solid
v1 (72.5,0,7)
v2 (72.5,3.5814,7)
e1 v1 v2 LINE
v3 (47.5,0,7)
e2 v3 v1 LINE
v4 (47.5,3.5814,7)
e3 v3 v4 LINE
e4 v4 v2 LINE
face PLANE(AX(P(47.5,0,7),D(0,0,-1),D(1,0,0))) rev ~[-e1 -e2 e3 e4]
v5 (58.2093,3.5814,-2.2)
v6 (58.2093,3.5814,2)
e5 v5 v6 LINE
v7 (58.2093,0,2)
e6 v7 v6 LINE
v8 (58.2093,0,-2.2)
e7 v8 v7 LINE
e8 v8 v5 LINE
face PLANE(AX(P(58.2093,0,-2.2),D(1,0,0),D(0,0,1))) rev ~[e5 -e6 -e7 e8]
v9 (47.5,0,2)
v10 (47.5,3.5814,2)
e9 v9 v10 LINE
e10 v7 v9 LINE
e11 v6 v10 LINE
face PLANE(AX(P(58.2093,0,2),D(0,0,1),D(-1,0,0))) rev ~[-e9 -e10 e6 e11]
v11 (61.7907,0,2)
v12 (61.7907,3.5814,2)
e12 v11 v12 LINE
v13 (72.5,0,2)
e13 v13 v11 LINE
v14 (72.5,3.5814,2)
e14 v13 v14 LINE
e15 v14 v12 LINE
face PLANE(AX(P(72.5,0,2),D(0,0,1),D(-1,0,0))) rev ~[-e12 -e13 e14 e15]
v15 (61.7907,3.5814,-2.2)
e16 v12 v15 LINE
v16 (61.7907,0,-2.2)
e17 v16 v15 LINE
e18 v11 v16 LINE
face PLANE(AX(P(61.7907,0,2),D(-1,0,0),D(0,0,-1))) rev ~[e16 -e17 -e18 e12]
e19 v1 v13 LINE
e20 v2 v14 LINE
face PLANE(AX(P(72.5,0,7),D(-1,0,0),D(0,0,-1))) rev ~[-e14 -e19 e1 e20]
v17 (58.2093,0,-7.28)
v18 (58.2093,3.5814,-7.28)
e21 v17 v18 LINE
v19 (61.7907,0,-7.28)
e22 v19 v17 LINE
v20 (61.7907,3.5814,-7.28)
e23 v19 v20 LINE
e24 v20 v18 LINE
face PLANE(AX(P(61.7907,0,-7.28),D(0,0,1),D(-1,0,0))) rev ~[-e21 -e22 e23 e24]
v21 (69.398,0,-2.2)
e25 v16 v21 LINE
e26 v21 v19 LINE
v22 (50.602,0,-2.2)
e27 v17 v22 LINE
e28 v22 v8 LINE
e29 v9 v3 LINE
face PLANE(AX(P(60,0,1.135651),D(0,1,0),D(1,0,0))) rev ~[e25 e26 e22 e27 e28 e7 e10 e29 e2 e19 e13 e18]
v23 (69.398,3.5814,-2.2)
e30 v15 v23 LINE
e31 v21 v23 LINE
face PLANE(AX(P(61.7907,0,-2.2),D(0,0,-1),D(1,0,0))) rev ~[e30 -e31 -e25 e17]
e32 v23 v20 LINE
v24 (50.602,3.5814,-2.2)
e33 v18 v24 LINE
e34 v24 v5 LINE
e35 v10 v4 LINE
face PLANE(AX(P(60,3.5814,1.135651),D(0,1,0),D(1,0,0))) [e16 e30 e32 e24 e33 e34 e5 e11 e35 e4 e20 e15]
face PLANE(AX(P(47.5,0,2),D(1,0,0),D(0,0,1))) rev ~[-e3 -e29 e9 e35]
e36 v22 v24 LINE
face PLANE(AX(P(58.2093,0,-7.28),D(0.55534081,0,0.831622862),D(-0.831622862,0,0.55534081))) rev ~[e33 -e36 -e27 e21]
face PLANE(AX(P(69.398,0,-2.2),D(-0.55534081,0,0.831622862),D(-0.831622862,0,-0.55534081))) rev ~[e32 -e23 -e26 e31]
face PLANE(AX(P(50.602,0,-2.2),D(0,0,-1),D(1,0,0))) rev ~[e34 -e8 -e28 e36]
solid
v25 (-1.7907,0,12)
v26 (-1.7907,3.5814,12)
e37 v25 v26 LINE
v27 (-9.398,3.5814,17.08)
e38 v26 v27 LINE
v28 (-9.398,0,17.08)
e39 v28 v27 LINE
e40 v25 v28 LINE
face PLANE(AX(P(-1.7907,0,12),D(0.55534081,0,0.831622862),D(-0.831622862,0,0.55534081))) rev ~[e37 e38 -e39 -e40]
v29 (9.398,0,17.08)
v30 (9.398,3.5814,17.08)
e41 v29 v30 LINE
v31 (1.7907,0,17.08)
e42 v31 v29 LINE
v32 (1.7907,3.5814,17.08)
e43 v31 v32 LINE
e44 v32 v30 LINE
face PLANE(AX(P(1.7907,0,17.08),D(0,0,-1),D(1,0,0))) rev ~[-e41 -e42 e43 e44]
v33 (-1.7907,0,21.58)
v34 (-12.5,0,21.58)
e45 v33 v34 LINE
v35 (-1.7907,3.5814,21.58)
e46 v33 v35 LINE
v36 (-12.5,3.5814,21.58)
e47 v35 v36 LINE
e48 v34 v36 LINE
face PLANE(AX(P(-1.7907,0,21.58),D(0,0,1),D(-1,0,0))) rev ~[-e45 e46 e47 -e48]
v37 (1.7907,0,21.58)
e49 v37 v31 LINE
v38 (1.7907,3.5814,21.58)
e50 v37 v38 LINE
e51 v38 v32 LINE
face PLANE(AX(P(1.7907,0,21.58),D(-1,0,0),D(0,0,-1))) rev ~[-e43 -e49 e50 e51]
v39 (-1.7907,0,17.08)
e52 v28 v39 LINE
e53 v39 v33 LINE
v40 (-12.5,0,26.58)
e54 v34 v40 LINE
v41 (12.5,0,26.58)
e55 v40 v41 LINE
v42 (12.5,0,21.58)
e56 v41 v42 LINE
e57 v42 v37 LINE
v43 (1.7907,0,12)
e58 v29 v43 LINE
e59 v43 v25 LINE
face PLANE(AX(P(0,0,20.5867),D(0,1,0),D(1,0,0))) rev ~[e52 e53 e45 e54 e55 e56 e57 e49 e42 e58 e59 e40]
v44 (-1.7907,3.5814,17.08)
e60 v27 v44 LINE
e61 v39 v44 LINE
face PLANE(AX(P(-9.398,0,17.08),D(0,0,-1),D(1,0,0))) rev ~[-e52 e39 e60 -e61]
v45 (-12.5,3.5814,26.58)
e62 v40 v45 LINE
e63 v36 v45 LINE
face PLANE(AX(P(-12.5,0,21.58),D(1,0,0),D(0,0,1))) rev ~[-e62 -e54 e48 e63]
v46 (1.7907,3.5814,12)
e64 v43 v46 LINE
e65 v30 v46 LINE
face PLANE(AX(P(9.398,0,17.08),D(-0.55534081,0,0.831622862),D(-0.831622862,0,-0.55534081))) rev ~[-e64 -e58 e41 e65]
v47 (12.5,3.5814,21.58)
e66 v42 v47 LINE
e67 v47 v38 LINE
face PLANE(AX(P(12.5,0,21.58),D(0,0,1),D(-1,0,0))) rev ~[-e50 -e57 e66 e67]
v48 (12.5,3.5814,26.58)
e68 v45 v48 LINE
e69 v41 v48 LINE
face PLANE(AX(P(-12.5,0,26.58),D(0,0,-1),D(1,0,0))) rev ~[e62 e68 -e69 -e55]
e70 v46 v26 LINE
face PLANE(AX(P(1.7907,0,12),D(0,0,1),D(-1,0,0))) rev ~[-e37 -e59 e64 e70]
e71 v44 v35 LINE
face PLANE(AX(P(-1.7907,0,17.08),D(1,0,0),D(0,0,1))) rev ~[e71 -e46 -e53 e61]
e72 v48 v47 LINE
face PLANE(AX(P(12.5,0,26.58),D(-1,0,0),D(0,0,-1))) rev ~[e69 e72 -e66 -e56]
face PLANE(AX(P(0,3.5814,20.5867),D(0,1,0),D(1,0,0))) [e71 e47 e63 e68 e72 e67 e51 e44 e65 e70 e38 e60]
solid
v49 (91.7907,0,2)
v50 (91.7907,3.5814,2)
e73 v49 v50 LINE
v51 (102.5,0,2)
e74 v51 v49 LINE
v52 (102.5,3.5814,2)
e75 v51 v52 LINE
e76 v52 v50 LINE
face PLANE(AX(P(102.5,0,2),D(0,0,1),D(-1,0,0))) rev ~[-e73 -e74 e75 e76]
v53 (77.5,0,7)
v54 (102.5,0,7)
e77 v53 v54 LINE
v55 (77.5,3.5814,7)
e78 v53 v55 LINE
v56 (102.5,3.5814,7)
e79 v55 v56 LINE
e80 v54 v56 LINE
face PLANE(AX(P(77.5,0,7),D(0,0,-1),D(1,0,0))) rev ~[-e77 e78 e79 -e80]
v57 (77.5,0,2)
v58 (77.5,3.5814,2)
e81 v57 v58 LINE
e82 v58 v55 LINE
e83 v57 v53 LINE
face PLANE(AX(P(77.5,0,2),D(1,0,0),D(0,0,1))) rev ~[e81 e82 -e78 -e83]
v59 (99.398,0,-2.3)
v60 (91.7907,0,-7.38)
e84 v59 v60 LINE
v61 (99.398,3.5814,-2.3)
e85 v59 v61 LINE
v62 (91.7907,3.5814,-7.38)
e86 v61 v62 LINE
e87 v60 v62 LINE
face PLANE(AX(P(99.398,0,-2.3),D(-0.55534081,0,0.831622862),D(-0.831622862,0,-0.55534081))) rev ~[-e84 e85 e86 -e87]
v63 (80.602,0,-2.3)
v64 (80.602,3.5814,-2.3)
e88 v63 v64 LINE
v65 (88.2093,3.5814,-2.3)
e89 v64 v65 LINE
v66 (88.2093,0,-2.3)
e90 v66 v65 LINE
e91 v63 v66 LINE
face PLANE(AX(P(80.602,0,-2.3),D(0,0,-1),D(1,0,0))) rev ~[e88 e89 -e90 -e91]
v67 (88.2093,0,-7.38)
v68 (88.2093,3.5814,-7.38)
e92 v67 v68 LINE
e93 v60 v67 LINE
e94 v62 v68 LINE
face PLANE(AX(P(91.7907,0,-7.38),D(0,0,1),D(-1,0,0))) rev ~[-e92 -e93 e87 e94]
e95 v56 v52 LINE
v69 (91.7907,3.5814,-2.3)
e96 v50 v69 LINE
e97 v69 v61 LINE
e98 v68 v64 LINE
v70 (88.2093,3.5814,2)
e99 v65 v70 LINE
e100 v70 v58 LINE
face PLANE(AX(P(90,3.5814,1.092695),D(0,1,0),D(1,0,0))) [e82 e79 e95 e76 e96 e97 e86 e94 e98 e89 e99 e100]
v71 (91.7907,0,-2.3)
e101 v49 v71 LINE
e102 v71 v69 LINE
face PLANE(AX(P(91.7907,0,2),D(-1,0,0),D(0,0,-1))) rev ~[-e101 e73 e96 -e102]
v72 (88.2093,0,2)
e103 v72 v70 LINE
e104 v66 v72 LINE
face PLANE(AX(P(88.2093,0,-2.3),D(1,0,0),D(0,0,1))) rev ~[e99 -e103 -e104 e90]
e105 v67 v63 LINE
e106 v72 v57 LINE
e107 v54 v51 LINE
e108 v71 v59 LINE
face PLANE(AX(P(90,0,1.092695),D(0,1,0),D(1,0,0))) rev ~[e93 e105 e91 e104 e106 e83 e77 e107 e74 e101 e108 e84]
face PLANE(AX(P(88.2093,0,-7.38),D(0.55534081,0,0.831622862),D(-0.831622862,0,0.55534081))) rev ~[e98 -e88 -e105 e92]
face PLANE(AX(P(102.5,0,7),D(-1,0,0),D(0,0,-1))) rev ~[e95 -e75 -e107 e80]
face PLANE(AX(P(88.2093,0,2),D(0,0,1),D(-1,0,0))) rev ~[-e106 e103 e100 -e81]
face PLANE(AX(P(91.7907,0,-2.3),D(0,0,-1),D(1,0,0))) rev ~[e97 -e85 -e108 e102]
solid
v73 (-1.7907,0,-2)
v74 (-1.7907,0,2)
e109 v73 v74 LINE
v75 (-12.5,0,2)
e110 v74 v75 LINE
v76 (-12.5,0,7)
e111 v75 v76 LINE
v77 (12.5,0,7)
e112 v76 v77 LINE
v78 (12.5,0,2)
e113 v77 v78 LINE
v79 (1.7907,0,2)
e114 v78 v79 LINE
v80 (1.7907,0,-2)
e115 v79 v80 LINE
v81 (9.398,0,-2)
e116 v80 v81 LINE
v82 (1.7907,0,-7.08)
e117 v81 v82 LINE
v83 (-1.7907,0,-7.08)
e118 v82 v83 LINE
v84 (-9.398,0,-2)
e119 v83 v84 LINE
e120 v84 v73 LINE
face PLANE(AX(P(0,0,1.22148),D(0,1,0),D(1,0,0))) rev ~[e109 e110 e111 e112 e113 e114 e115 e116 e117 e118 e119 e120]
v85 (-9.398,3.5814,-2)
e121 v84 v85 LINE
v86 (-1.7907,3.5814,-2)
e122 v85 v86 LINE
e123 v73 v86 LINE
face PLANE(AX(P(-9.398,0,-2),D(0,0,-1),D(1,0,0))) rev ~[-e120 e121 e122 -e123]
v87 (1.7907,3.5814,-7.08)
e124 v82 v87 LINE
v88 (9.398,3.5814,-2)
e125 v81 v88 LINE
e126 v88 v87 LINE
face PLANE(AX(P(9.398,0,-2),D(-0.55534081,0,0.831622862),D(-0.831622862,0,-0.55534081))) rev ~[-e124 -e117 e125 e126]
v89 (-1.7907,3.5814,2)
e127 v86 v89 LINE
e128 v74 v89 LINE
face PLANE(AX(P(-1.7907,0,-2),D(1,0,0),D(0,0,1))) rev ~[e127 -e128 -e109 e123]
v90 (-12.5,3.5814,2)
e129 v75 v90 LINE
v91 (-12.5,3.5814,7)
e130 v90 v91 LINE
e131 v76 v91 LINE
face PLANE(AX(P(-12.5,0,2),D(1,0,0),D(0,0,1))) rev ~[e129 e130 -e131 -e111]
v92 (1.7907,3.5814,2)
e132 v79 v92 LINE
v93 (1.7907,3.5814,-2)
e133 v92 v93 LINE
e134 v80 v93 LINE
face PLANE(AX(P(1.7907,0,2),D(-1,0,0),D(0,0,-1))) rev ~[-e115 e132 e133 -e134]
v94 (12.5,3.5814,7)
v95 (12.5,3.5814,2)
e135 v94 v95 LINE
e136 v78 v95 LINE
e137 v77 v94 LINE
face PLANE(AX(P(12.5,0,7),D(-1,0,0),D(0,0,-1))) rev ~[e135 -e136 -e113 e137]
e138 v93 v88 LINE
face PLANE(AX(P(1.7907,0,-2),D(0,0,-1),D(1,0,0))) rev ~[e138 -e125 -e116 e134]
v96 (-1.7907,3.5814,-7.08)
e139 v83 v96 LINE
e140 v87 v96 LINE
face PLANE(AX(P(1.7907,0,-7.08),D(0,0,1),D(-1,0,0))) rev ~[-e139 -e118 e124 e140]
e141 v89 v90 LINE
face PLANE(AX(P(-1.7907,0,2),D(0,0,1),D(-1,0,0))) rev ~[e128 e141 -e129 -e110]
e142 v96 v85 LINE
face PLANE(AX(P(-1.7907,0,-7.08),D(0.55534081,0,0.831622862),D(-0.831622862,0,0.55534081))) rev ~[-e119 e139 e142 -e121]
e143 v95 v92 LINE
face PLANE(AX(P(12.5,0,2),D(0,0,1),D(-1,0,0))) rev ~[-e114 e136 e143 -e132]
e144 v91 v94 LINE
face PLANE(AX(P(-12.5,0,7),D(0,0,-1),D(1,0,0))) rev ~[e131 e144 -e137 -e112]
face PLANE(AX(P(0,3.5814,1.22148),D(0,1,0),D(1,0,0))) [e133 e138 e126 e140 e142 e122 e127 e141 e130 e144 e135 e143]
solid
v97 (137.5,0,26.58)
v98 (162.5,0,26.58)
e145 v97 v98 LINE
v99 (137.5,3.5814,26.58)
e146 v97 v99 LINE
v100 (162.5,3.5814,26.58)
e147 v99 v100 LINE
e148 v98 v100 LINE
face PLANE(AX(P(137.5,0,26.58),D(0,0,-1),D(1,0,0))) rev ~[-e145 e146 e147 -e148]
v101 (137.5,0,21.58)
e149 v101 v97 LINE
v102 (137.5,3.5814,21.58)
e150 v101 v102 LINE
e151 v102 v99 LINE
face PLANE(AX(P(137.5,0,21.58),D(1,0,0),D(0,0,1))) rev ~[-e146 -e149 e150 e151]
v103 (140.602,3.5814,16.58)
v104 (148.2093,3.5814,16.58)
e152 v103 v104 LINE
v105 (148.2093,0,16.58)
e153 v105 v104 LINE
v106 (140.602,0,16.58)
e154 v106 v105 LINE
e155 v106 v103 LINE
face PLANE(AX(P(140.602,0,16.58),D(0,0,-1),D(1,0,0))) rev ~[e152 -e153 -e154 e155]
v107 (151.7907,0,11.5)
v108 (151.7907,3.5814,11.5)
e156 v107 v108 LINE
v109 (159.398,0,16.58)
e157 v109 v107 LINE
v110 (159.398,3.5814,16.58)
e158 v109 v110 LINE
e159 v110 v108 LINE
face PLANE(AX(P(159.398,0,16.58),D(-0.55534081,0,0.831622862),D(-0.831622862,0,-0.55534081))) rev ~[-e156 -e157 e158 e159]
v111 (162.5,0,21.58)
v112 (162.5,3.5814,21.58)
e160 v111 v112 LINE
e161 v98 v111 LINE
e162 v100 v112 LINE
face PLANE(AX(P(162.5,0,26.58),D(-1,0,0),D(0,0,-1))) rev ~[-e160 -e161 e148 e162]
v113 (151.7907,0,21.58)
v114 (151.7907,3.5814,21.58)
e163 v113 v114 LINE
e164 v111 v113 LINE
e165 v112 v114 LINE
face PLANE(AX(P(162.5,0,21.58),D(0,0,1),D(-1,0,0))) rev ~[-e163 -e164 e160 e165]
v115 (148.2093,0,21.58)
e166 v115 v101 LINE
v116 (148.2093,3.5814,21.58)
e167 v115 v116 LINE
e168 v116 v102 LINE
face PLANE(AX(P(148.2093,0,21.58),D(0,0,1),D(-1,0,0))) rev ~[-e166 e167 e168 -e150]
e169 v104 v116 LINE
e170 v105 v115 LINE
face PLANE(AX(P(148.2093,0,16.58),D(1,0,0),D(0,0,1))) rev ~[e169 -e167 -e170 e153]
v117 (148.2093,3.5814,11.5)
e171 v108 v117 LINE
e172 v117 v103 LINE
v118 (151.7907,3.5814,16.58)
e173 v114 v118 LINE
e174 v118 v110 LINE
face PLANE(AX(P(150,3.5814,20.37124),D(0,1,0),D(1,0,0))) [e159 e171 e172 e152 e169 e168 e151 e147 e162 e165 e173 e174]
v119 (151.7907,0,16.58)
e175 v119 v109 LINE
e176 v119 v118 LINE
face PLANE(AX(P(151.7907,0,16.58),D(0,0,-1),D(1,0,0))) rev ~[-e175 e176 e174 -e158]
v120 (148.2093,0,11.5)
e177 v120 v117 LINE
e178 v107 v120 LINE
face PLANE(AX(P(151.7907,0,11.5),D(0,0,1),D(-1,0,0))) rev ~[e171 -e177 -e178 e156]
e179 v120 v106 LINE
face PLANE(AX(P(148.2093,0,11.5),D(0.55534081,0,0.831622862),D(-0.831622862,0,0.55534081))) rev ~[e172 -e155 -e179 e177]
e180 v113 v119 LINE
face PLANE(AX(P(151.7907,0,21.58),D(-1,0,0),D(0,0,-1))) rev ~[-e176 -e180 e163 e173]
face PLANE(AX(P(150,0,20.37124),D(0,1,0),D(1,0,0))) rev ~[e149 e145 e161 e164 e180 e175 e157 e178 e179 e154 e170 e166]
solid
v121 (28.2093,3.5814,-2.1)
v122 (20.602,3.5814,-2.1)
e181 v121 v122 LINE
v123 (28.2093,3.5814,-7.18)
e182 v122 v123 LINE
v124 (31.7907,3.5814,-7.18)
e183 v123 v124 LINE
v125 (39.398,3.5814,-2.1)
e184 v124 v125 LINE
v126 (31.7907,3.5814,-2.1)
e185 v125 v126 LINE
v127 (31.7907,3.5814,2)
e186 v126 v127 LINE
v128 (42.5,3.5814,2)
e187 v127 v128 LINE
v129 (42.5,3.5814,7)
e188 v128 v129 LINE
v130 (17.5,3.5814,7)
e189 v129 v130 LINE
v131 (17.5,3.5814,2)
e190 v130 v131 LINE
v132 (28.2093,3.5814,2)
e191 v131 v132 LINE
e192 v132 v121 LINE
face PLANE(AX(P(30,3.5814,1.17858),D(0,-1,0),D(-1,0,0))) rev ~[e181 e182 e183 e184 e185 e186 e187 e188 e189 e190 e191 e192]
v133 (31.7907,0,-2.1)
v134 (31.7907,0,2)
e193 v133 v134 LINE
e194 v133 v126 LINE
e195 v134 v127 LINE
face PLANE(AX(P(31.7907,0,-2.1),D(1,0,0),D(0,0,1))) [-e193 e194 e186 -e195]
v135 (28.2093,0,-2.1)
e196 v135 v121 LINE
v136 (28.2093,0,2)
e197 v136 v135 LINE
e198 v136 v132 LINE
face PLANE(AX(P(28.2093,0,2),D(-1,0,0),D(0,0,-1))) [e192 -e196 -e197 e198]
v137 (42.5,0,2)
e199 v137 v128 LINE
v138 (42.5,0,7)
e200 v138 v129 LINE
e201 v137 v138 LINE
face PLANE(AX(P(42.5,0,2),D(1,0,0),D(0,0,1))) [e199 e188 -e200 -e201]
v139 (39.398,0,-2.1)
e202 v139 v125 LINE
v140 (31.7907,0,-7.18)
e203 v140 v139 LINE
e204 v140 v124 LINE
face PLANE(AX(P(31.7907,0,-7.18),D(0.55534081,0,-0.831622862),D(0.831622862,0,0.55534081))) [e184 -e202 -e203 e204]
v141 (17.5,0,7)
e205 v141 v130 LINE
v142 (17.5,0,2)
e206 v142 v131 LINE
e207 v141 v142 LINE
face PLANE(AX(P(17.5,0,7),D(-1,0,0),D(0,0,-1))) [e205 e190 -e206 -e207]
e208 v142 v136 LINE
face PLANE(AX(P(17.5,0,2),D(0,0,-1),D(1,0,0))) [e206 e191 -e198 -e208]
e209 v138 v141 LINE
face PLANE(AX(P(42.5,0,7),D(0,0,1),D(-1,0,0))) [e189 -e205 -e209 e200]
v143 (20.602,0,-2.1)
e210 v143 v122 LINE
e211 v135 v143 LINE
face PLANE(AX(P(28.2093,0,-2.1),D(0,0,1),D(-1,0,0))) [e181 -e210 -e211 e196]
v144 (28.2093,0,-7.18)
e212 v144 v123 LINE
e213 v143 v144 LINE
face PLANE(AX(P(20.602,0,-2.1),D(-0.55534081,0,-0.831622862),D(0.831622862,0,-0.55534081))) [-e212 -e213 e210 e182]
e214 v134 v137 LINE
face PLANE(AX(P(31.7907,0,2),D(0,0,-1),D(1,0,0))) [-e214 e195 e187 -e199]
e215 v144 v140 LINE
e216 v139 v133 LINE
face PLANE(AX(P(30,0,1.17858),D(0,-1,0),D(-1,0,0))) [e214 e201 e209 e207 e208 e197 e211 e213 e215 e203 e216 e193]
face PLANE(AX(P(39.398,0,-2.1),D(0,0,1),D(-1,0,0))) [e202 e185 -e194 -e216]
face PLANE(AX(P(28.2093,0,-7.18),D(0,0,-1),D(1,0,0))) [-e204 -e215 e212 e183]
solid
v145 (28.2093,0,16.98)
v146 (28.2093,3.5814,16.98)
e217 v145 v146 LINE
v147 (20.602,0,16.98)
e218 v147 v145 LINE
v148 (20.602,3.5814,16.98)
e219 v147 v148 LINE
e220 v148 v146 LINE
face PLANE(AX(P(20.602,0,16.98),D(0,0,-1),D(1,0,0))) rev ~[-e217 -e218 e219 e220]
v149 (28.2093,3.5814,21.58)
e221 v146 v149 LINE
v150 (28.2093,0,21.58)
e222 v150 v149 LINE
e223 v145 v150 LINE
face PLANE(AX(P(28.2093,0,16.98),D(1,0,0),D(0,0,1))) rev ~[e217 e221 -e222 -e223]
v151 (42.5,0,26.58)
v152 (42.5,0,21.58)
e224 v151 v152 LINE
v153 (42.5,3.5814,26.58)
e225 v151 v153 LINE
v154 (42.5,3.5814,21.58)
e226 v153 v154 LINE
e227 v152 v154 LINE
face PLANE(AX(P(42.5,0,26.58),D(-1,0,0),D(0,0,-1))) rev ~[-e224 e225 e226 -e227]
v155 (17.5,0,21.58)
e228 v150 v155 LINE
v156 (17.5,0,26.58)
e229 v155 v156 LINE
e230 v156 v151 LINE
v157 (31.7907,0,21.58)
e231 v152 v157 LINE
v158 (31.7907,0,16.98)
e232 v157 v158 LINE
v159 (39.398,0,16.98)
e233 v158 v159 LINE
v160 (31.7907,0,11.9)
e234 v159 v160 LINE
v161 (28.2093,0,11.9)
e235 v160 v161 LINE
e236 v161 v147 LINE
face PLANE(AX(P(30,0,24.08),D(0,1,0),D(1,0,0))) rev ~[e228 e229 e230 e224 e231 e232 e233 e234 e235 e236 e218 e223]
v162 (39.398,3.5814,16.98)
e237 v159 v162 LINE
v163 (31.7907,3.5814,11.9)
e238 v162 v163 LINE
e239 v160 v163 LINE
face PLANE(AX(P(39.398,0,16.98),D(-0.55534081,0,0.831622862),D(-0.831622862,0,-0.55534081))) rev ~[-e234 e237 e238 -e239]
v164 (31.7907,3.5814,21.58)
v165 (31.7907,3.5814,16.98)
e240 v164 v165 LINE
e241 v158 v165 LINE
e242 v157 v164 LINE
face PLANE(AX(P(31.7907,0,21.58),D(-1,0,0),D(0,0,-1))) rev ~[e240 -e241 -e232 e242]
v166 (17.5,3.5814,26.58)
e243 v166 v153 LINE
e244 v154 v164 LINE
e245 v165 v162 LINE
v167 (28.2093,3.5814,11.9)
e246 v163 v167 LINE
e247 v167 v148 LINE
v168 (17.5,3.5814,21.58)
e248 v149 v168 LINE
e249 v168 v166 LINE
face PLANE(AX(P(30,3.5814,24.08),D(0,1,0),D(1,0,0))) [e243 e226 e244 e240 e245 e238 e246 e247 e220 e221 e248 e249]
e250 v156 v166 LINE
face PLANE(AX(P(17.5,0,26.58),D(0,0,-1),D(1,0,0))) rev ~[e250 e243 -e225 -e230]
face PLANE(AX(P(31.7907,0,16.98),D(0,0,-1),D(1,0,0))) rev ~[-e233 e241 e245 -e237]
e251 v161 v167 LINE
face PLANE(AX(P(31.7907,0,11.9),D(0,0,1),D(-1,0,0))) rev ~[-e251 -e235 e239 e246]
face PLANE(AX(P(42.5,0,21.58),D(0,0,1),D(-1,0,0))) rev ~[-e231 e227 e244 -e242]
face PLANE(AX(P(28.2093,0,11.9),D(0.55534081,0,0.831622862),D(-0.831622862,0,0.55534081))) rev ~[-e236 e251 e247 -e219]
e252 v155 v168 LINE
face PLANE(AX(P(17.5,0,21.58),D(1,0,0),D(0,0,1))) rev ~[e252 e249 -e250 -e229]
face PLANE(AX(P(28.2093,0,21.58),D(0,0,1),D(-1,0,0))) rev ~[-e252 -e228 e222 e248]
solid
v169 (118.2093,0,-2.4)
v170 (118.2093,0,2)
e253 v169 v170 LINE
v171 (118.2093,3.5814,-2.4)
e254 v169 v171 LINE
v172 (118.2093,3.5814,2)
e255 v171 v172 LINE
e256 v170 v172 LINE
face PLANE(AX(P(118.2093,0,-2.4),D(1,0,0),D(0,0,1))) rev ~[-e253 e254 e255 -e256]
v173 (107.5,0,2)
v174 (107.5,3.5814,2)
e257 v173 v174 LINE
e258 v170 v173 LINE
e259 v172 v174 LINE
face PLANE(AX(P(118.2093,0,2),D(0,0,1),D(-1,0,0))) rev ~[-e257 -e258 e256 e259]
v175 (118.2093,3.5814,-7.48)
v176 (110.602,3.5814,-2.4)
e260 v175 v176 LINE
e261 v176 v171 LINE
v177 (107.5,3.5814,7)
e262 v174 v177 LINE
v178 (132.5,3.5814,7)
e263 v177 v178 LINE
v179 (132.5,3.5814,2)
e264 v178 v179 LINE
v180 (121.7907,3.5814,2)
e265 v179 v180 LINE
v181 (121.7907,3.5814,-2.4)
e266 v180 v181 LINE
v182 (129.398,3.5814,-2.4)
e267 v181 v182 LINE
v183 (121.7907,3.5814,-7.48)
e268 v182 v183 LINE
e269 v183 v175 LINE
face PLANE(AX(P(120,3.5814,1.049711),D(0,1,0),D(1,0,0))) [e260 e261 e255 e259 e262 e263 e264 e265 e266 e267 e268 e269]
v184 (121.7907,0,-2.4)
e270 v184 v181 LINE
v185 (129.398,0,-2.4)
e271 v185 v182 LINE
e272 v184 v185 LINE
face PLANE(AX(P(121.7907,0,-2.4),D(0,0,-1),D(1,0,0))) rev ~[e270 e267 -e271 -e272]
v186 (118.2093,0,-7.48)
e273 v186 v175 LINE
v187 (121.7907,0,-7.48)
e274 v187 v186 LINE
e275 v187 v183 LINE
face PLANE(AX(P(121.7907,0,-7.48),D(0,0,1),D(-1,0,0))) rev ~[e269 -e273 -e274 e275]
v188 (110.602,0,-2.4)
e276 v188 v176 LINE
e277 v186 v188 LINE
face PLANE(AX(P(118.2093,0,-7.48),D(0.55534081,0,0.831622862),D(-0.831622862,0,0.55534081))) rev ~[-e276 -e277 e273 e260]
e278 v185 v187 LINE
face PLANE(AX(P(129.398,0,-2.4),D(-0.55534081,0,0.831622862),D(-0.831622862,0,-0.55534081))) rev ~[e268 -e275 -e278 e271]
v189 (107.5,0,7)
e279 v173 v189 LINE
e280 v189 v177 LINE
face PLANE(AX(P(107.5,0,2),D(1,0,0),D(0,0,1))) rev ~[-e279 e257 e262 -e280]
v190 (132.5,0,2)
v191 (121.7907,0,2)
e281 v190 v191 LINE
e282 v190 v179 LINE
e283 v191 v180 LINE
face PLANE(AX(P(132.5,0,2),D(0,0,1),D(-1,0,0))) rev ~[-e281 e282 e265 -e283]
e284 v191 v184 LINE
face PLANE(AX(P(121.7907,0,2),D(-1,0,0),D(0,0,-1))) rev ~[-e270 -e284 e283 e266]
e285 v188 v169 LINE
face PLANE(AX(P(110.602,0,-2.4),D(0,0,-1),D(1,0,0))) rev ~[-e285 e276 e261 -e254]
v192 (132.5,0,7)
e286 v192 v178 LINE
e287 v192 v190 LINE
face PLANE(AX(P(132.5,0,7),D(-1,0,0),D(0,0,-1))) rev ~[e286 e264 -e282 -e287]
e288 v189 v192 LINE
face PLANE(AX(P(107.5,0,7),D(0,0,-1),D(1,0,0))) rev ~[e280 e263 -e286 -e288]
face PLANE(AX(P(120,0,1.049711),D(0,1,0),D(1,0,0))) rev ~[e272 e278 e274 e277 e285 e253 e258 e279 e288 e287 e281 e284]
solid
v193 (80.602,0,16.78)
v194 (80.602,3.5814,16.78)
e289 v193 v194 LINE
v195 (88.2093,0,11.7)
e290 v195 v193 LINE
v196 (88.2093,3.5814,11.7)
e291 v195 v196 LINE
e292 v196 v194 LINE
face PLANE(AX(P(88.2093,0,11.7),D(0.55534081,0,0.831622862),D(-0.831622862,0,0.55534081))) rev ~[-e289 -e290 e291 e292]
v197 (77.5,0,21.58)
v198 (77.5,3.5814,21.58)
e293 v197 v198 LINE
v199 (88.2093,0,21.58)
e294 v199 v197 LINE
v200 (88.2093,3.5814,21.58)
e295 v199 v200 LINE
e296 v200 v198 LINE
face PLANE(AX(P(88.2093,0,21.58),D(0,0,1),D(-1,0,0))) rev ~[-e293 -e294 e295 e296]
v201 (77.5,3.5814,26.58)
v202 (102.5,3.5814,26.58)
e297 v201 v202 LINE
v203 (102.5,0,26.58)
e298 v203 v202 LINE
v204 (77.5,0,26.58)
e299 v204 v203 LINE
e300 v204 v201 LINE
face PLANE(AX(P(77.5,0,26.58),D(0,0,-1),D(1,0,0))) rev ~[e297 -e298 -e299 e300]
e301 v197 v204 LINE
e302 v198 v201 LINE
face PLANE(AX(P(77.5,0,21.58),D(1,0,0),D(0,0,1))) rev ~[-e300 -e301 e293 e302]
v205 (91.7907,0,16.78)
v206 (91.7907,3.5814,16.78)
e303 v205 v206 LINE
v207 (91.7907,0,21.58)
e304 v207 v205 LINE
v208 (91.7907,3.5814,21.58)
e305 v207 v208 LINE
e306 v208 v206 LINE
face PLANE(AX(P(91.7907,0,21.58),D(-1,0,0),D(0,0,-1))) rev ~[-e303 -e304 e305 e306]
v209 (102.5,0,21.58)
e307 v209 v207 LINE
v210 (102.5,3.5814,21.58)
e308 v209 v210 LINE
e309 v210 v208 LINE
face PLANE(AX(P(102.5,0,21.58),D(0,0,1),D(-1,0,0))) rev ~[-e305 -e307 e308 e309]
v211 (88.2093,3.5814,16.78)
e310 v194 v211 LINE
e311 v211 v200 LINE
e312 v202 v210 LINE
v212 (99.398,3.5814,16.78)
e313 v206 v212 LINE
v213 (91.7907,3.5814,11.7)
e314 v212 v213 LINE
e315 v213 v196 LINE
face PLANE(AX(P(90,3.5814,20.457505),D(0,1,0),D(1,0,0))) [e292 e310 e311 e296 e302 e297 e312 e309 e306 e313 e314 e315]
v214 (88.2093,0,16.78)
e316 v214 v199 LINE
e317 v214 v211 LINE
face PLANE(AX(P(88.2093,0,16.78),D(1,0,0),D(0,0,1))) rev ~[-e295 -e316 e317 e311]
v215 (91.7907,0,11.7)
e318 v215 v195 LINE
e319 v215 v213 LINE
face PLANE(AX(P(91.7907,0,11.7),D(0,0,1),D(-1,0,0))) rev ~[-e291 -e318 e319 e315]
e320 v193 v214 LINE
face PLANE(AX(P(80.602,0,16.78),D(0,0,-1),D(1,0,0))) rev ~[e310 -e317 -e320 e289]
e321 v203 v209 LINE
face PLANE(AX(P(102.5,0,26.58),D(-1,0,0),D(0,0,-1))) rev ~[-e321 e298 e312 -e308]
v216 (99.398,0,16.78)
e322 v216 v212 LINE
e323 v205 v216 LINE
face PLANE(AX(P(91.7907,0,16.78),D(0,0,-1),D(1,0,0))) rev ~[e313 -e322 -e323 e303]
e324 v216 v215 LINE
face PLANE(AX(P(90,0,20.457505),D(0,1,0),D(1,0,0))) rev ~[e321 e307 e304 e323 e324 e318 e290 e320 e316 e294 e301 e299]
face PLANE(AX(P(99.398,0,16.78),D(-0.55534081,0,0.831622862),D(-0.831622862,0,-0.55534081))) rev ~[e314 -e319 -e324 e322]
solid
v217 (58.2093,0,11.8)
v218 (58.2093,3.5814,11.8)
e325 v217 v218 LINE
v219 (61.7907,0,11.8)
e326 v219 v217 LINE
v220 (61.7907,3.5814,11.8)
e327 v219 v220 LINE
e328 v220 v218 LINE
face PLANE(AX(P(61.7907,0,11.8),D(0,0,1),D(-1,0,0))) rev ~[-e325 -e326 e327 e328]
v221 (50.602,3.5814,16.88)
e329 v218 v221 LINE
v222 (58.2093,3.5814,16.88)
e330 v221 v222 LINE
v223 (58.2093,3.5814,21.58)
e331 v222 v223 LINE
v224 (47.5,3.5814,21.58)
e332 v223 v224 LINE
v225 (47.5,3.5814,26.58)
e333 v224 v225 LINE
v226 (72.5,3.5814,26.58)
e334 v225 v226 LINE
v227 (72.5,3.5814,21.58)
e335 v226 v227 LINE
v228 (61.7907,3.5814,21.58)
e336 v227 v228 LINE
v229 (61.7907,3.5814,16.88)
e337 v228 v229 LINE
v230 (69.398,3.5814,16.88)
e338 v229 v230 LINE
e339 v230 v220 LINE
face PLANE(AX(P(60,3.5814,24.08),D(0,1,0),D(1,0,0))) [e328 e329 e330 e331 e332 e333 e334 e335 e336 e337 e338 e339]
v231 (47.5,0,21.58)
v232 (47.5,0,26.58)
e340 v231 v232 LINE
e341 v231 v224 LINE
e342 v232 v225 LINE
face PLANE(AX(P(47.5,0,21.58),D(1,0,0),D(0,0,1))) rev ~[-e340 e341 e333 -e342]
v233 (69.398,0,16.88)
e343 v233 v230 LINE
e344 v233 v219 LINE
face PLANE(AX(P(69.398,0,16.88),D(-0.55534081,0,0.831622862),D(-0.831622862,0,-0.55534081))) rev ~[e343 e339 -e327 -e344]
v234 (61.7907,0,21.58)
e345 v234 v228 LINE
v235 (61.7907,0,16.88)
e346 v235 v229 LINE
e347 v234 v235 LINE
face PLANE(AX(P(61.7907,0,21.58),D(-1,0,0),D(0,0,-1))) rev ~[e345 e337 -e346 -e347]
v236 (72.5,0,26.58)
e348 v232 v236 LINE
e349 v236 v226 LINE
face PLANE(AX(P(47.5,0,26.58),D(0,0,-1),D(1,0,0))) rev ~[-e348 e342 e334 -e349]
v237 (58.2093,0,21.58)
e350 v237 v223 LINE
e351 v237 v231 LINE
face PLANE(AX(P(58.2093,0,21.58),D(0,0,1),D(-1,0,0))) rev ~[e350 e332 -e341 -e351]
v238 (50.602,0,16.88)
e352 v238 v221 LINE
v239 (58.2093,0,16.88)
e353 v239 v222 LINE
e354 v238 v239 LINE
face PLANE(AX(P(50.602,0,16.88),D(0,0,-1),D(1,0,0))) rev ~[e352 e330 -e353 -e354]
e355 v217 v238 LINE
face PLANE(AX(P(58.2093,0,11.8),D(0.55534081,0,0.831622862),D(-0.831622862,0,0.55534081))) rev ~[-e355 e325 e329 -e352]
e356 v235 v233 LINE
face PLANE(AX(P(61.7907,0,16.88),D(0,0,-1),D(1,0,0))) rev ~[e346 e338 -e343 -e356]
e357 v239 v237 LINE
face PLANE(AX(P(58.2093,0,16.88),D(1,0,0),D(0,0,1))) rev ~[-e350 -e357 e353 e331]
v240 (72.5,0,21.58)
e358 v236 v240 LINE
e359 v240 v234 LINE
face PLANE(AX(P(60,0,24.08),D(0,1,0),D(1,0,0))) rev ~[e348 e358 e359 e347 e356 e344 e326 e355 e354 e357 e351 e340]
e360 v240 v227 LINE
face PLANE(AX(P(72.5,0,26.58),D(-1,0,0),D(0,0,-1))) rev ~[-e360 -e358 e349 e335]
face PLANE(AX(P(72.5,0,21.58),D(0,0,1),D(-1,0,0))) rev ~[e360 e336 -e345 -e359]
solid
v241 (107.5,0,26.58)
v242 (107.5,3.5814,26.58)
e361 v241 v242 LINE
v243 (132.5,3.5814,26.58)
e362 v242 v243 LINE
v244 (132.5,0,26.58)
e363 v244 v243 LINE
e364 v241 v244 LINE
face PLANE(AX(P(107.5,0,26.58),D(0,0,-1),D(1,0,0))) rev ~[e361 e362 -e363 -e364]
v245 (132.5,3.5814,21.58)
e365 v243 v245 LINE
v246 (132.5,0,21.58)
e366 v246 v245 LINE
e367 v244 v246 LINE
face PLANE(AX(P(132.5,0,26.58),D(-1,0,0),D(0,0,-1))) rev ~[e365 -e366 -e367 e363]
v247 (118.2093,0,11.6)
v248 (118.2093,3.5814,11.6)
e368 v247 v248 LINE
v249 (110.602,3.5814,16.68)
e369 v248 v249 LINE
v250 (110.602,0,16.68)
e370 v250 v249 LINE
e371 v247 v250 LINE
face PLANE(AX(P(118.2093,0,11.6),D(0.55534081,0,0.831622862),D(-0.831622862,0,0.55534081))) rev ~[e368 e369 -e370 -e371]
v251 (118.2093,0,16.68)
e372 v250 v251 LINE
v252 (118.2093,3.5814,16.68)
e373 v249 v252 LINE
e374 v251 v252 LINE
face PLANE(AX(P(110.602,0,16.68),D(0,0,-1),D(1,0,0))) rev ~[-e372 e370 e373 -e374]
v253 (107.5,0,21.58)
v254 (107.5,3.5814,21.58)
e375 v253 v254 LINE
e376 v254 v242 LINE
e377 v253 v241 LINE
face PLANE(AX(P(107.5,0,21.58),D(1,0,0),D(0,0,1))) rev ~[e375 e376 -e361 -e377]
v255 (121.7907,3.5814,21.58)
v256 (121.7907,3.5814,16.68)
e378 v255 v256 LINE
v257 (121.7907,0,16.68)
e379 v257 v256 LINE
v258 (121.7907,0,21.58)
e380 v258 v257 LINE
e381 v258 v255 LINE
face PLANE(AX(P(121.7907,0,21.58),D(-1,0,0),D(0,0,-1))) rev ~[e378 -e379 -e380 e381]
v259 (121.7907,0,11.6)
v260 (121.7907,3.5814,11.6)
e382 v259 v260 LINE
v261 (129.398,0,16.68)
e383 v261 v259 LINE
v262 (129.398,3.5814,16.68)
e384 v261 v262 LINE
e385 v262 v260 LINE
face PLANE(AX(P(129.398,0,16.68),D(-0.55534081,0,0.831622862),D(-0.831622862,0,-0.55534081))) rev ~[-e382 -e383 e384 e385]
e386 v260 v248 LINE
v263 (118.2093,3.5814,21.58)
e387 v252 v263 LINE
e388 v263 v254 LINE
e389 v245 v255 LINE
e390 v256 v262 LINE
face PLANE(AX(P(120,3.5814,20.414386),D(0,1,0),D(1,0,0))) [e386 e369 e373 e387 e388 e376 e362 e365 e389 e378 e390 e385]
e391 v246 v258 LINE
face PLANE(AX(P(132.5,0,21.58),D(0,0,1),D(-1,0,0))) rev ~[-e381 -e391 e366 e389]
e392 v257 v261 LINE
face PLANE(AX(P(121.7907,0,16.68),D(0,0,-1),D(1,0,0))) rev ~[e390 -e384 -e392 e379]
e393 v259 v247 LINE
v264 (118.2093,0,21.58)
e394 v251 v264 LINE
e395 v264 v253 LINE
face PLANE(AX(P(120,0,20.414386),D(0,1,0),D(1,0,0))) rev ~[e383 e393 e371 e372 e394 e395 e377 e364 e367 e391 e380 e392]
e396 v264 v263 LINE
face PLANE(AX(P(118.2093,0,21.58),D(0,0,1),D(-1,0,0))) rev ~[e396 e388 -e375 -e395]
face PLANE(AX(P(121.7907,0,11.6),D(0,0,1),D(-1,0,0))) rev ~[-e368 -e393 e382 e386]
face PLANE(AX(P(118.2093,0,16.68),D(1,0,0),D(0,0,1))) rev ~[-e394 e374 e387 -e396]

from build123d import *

# Parameters (mm, degrees)
BOSS_EXTRUDE1_DEPTH = 3.5814
BOSS_EXTRUDE2_DEPTH = 3.5814


with BuildPart() as part:
    # Sketch1 → Boss-Extrude1 (new body)
    with BuildSketch(Plane(origin=(0, 0, 0), x_dir=(1, 0, 0), z_dir=(0, 1, 0))):
        Polygon((-12.5, -7), (12.5, -7), (12.5, -2), (1.7907, -2), (1.7907, 2), (9.398, 2), (1.7907, 7.08), (-1.7907, 7.08), (-9.398, 2), (-1.7907, 2), (-1.7907, -2), (-12.5, -2), align=None)
    extrude(amount=BOSS_EXTRUDE1_DEPTH)


with BuildPart() as body_2:
    # Sketch2 → Boss-Extrude2 (new body)
    with BuildSketch(Plane(origin=(0, 0, 0), x_dir=(1, 0, 0), z_dir=(0, 1, 0))):
        Polygon((17.5, -2), (28.2093, -2), (28.2093, 2.1), (20.602, 2.1), (28.2093, 7.18), (31.7907, 7.18), (39.398, 2.1), (31.7907, 2.1), (31.7907, -2), (42.5, -2), (42.5, -7), (17.5, -7), align=None)
        Polygon((47.5, -7), (72.5, -7), (72.5, -2), (61.7907, -2), (61.7907, 2.2), (69.398, 2.2), (61.7907, 7.28), (58.2093, 7.28), (50.602, 2.2), (58.2093, 2.2), (58.2093, -2), (47.5, -2), align=None)
        Polygon((77.5, -7), (102.5, -7), (102.5, -2), (91.7907, -2), (91.7907, 2.3), (99.398, 2.3), (91.7907, 7.38), (88.2093, 7.38), (80.602, 2.3), (88.2093, 2.3), (88.2093, -2), (77.5, -2), align=None)
        Polygon((107.5, -7), (132.5, -7), (132.5, -2), (121.7907, -2), (121.7907, 2.4), (129.398, 2.4), (121.7907, 7.48), (118.2093, 7.48), (110.602, 2.4), (118.2093, 2.4), (118.2093, -2), (107.5, -2), align=None)
        Polygon((-12.5, -26.58), (12.5, -26.58), (12.5, -21.58), (1.7907, -21.58), (1.7907, -17.08), (9.398, -17.08), (1.7907, -12), (-1.7907, -12), (-9.398, -17.08), (-1.7907, -17.08), (-1.7907, -21.58), (-12.5, -21.58), align=None)
        Polygon((31.7907, -21.58), (28.2093, -21.58), (17.5, -21.58), (17.5, -26.58), (42.5, -26.58), (42.5, -21.58), align=None)
        Polygon((61.7907, -21.58), (58.2093, -21.58), (47.5, -21.58), (47.5, -26.58), (72.5, -26.58), (72.5, -21.58), align=None)
        Polygon((20.602, -16.98), (28.2093, -16.98), (28.2093, -21.58), (31.7907, -21.58), (31.7907, -16.98), (39.398, -16.98), (31.7907, -11.9), (28.2093, -11.9), align=None)
        Polygon((50.602, -16.88), (58.2093, -16.88), (58.2093, -21.58), (61.7907, -21.58), (61.7907, -16.88), (69.398, -16.88), (61.7907, -11.8), (58.2093, -11.8), align=None)
        Polygon((77.5, -26.58), (102.5, -26.58), (102.5, -21.58), (91.7907, -21.58), (91.7907, -16.78), (99.398, -16.78), (91.7907, -11.7), (88.2093, -11.7), (80.602, -16.78), (88.2093, -16.78), (88.2093, -21.58), (77.5, -21.58), align=None)
        Polygon((107.5, -26.58), (132.5, -26.58), (132.5, -21.58), (121.7907, -21.58), (121.7907, -16.68), (129.398, -16.68), (121.7907, -11.6), (118.2093, -11.6), (110.602, -16.68), (118.2093, -16.68), (118.2093, -21.58), (107.5, -21.58), align=None)
        Polygon((137.5, -26.58), (162.5, -26.58), (162.5, -21.58), (151.7907, -21.58), (151.7907, -16.58), (159.398, -16.58), (151.7907, -11.5), (148.2093, -11.5), (140.602, -16.58), (148.2093, -16.58), (148.2093, -21.58), (137.5, -21.58), align=None)
    extrude(amount=BOSS_EXTRUDE2_DEPTH)


solid = Compound([part.part, body_2.part])
